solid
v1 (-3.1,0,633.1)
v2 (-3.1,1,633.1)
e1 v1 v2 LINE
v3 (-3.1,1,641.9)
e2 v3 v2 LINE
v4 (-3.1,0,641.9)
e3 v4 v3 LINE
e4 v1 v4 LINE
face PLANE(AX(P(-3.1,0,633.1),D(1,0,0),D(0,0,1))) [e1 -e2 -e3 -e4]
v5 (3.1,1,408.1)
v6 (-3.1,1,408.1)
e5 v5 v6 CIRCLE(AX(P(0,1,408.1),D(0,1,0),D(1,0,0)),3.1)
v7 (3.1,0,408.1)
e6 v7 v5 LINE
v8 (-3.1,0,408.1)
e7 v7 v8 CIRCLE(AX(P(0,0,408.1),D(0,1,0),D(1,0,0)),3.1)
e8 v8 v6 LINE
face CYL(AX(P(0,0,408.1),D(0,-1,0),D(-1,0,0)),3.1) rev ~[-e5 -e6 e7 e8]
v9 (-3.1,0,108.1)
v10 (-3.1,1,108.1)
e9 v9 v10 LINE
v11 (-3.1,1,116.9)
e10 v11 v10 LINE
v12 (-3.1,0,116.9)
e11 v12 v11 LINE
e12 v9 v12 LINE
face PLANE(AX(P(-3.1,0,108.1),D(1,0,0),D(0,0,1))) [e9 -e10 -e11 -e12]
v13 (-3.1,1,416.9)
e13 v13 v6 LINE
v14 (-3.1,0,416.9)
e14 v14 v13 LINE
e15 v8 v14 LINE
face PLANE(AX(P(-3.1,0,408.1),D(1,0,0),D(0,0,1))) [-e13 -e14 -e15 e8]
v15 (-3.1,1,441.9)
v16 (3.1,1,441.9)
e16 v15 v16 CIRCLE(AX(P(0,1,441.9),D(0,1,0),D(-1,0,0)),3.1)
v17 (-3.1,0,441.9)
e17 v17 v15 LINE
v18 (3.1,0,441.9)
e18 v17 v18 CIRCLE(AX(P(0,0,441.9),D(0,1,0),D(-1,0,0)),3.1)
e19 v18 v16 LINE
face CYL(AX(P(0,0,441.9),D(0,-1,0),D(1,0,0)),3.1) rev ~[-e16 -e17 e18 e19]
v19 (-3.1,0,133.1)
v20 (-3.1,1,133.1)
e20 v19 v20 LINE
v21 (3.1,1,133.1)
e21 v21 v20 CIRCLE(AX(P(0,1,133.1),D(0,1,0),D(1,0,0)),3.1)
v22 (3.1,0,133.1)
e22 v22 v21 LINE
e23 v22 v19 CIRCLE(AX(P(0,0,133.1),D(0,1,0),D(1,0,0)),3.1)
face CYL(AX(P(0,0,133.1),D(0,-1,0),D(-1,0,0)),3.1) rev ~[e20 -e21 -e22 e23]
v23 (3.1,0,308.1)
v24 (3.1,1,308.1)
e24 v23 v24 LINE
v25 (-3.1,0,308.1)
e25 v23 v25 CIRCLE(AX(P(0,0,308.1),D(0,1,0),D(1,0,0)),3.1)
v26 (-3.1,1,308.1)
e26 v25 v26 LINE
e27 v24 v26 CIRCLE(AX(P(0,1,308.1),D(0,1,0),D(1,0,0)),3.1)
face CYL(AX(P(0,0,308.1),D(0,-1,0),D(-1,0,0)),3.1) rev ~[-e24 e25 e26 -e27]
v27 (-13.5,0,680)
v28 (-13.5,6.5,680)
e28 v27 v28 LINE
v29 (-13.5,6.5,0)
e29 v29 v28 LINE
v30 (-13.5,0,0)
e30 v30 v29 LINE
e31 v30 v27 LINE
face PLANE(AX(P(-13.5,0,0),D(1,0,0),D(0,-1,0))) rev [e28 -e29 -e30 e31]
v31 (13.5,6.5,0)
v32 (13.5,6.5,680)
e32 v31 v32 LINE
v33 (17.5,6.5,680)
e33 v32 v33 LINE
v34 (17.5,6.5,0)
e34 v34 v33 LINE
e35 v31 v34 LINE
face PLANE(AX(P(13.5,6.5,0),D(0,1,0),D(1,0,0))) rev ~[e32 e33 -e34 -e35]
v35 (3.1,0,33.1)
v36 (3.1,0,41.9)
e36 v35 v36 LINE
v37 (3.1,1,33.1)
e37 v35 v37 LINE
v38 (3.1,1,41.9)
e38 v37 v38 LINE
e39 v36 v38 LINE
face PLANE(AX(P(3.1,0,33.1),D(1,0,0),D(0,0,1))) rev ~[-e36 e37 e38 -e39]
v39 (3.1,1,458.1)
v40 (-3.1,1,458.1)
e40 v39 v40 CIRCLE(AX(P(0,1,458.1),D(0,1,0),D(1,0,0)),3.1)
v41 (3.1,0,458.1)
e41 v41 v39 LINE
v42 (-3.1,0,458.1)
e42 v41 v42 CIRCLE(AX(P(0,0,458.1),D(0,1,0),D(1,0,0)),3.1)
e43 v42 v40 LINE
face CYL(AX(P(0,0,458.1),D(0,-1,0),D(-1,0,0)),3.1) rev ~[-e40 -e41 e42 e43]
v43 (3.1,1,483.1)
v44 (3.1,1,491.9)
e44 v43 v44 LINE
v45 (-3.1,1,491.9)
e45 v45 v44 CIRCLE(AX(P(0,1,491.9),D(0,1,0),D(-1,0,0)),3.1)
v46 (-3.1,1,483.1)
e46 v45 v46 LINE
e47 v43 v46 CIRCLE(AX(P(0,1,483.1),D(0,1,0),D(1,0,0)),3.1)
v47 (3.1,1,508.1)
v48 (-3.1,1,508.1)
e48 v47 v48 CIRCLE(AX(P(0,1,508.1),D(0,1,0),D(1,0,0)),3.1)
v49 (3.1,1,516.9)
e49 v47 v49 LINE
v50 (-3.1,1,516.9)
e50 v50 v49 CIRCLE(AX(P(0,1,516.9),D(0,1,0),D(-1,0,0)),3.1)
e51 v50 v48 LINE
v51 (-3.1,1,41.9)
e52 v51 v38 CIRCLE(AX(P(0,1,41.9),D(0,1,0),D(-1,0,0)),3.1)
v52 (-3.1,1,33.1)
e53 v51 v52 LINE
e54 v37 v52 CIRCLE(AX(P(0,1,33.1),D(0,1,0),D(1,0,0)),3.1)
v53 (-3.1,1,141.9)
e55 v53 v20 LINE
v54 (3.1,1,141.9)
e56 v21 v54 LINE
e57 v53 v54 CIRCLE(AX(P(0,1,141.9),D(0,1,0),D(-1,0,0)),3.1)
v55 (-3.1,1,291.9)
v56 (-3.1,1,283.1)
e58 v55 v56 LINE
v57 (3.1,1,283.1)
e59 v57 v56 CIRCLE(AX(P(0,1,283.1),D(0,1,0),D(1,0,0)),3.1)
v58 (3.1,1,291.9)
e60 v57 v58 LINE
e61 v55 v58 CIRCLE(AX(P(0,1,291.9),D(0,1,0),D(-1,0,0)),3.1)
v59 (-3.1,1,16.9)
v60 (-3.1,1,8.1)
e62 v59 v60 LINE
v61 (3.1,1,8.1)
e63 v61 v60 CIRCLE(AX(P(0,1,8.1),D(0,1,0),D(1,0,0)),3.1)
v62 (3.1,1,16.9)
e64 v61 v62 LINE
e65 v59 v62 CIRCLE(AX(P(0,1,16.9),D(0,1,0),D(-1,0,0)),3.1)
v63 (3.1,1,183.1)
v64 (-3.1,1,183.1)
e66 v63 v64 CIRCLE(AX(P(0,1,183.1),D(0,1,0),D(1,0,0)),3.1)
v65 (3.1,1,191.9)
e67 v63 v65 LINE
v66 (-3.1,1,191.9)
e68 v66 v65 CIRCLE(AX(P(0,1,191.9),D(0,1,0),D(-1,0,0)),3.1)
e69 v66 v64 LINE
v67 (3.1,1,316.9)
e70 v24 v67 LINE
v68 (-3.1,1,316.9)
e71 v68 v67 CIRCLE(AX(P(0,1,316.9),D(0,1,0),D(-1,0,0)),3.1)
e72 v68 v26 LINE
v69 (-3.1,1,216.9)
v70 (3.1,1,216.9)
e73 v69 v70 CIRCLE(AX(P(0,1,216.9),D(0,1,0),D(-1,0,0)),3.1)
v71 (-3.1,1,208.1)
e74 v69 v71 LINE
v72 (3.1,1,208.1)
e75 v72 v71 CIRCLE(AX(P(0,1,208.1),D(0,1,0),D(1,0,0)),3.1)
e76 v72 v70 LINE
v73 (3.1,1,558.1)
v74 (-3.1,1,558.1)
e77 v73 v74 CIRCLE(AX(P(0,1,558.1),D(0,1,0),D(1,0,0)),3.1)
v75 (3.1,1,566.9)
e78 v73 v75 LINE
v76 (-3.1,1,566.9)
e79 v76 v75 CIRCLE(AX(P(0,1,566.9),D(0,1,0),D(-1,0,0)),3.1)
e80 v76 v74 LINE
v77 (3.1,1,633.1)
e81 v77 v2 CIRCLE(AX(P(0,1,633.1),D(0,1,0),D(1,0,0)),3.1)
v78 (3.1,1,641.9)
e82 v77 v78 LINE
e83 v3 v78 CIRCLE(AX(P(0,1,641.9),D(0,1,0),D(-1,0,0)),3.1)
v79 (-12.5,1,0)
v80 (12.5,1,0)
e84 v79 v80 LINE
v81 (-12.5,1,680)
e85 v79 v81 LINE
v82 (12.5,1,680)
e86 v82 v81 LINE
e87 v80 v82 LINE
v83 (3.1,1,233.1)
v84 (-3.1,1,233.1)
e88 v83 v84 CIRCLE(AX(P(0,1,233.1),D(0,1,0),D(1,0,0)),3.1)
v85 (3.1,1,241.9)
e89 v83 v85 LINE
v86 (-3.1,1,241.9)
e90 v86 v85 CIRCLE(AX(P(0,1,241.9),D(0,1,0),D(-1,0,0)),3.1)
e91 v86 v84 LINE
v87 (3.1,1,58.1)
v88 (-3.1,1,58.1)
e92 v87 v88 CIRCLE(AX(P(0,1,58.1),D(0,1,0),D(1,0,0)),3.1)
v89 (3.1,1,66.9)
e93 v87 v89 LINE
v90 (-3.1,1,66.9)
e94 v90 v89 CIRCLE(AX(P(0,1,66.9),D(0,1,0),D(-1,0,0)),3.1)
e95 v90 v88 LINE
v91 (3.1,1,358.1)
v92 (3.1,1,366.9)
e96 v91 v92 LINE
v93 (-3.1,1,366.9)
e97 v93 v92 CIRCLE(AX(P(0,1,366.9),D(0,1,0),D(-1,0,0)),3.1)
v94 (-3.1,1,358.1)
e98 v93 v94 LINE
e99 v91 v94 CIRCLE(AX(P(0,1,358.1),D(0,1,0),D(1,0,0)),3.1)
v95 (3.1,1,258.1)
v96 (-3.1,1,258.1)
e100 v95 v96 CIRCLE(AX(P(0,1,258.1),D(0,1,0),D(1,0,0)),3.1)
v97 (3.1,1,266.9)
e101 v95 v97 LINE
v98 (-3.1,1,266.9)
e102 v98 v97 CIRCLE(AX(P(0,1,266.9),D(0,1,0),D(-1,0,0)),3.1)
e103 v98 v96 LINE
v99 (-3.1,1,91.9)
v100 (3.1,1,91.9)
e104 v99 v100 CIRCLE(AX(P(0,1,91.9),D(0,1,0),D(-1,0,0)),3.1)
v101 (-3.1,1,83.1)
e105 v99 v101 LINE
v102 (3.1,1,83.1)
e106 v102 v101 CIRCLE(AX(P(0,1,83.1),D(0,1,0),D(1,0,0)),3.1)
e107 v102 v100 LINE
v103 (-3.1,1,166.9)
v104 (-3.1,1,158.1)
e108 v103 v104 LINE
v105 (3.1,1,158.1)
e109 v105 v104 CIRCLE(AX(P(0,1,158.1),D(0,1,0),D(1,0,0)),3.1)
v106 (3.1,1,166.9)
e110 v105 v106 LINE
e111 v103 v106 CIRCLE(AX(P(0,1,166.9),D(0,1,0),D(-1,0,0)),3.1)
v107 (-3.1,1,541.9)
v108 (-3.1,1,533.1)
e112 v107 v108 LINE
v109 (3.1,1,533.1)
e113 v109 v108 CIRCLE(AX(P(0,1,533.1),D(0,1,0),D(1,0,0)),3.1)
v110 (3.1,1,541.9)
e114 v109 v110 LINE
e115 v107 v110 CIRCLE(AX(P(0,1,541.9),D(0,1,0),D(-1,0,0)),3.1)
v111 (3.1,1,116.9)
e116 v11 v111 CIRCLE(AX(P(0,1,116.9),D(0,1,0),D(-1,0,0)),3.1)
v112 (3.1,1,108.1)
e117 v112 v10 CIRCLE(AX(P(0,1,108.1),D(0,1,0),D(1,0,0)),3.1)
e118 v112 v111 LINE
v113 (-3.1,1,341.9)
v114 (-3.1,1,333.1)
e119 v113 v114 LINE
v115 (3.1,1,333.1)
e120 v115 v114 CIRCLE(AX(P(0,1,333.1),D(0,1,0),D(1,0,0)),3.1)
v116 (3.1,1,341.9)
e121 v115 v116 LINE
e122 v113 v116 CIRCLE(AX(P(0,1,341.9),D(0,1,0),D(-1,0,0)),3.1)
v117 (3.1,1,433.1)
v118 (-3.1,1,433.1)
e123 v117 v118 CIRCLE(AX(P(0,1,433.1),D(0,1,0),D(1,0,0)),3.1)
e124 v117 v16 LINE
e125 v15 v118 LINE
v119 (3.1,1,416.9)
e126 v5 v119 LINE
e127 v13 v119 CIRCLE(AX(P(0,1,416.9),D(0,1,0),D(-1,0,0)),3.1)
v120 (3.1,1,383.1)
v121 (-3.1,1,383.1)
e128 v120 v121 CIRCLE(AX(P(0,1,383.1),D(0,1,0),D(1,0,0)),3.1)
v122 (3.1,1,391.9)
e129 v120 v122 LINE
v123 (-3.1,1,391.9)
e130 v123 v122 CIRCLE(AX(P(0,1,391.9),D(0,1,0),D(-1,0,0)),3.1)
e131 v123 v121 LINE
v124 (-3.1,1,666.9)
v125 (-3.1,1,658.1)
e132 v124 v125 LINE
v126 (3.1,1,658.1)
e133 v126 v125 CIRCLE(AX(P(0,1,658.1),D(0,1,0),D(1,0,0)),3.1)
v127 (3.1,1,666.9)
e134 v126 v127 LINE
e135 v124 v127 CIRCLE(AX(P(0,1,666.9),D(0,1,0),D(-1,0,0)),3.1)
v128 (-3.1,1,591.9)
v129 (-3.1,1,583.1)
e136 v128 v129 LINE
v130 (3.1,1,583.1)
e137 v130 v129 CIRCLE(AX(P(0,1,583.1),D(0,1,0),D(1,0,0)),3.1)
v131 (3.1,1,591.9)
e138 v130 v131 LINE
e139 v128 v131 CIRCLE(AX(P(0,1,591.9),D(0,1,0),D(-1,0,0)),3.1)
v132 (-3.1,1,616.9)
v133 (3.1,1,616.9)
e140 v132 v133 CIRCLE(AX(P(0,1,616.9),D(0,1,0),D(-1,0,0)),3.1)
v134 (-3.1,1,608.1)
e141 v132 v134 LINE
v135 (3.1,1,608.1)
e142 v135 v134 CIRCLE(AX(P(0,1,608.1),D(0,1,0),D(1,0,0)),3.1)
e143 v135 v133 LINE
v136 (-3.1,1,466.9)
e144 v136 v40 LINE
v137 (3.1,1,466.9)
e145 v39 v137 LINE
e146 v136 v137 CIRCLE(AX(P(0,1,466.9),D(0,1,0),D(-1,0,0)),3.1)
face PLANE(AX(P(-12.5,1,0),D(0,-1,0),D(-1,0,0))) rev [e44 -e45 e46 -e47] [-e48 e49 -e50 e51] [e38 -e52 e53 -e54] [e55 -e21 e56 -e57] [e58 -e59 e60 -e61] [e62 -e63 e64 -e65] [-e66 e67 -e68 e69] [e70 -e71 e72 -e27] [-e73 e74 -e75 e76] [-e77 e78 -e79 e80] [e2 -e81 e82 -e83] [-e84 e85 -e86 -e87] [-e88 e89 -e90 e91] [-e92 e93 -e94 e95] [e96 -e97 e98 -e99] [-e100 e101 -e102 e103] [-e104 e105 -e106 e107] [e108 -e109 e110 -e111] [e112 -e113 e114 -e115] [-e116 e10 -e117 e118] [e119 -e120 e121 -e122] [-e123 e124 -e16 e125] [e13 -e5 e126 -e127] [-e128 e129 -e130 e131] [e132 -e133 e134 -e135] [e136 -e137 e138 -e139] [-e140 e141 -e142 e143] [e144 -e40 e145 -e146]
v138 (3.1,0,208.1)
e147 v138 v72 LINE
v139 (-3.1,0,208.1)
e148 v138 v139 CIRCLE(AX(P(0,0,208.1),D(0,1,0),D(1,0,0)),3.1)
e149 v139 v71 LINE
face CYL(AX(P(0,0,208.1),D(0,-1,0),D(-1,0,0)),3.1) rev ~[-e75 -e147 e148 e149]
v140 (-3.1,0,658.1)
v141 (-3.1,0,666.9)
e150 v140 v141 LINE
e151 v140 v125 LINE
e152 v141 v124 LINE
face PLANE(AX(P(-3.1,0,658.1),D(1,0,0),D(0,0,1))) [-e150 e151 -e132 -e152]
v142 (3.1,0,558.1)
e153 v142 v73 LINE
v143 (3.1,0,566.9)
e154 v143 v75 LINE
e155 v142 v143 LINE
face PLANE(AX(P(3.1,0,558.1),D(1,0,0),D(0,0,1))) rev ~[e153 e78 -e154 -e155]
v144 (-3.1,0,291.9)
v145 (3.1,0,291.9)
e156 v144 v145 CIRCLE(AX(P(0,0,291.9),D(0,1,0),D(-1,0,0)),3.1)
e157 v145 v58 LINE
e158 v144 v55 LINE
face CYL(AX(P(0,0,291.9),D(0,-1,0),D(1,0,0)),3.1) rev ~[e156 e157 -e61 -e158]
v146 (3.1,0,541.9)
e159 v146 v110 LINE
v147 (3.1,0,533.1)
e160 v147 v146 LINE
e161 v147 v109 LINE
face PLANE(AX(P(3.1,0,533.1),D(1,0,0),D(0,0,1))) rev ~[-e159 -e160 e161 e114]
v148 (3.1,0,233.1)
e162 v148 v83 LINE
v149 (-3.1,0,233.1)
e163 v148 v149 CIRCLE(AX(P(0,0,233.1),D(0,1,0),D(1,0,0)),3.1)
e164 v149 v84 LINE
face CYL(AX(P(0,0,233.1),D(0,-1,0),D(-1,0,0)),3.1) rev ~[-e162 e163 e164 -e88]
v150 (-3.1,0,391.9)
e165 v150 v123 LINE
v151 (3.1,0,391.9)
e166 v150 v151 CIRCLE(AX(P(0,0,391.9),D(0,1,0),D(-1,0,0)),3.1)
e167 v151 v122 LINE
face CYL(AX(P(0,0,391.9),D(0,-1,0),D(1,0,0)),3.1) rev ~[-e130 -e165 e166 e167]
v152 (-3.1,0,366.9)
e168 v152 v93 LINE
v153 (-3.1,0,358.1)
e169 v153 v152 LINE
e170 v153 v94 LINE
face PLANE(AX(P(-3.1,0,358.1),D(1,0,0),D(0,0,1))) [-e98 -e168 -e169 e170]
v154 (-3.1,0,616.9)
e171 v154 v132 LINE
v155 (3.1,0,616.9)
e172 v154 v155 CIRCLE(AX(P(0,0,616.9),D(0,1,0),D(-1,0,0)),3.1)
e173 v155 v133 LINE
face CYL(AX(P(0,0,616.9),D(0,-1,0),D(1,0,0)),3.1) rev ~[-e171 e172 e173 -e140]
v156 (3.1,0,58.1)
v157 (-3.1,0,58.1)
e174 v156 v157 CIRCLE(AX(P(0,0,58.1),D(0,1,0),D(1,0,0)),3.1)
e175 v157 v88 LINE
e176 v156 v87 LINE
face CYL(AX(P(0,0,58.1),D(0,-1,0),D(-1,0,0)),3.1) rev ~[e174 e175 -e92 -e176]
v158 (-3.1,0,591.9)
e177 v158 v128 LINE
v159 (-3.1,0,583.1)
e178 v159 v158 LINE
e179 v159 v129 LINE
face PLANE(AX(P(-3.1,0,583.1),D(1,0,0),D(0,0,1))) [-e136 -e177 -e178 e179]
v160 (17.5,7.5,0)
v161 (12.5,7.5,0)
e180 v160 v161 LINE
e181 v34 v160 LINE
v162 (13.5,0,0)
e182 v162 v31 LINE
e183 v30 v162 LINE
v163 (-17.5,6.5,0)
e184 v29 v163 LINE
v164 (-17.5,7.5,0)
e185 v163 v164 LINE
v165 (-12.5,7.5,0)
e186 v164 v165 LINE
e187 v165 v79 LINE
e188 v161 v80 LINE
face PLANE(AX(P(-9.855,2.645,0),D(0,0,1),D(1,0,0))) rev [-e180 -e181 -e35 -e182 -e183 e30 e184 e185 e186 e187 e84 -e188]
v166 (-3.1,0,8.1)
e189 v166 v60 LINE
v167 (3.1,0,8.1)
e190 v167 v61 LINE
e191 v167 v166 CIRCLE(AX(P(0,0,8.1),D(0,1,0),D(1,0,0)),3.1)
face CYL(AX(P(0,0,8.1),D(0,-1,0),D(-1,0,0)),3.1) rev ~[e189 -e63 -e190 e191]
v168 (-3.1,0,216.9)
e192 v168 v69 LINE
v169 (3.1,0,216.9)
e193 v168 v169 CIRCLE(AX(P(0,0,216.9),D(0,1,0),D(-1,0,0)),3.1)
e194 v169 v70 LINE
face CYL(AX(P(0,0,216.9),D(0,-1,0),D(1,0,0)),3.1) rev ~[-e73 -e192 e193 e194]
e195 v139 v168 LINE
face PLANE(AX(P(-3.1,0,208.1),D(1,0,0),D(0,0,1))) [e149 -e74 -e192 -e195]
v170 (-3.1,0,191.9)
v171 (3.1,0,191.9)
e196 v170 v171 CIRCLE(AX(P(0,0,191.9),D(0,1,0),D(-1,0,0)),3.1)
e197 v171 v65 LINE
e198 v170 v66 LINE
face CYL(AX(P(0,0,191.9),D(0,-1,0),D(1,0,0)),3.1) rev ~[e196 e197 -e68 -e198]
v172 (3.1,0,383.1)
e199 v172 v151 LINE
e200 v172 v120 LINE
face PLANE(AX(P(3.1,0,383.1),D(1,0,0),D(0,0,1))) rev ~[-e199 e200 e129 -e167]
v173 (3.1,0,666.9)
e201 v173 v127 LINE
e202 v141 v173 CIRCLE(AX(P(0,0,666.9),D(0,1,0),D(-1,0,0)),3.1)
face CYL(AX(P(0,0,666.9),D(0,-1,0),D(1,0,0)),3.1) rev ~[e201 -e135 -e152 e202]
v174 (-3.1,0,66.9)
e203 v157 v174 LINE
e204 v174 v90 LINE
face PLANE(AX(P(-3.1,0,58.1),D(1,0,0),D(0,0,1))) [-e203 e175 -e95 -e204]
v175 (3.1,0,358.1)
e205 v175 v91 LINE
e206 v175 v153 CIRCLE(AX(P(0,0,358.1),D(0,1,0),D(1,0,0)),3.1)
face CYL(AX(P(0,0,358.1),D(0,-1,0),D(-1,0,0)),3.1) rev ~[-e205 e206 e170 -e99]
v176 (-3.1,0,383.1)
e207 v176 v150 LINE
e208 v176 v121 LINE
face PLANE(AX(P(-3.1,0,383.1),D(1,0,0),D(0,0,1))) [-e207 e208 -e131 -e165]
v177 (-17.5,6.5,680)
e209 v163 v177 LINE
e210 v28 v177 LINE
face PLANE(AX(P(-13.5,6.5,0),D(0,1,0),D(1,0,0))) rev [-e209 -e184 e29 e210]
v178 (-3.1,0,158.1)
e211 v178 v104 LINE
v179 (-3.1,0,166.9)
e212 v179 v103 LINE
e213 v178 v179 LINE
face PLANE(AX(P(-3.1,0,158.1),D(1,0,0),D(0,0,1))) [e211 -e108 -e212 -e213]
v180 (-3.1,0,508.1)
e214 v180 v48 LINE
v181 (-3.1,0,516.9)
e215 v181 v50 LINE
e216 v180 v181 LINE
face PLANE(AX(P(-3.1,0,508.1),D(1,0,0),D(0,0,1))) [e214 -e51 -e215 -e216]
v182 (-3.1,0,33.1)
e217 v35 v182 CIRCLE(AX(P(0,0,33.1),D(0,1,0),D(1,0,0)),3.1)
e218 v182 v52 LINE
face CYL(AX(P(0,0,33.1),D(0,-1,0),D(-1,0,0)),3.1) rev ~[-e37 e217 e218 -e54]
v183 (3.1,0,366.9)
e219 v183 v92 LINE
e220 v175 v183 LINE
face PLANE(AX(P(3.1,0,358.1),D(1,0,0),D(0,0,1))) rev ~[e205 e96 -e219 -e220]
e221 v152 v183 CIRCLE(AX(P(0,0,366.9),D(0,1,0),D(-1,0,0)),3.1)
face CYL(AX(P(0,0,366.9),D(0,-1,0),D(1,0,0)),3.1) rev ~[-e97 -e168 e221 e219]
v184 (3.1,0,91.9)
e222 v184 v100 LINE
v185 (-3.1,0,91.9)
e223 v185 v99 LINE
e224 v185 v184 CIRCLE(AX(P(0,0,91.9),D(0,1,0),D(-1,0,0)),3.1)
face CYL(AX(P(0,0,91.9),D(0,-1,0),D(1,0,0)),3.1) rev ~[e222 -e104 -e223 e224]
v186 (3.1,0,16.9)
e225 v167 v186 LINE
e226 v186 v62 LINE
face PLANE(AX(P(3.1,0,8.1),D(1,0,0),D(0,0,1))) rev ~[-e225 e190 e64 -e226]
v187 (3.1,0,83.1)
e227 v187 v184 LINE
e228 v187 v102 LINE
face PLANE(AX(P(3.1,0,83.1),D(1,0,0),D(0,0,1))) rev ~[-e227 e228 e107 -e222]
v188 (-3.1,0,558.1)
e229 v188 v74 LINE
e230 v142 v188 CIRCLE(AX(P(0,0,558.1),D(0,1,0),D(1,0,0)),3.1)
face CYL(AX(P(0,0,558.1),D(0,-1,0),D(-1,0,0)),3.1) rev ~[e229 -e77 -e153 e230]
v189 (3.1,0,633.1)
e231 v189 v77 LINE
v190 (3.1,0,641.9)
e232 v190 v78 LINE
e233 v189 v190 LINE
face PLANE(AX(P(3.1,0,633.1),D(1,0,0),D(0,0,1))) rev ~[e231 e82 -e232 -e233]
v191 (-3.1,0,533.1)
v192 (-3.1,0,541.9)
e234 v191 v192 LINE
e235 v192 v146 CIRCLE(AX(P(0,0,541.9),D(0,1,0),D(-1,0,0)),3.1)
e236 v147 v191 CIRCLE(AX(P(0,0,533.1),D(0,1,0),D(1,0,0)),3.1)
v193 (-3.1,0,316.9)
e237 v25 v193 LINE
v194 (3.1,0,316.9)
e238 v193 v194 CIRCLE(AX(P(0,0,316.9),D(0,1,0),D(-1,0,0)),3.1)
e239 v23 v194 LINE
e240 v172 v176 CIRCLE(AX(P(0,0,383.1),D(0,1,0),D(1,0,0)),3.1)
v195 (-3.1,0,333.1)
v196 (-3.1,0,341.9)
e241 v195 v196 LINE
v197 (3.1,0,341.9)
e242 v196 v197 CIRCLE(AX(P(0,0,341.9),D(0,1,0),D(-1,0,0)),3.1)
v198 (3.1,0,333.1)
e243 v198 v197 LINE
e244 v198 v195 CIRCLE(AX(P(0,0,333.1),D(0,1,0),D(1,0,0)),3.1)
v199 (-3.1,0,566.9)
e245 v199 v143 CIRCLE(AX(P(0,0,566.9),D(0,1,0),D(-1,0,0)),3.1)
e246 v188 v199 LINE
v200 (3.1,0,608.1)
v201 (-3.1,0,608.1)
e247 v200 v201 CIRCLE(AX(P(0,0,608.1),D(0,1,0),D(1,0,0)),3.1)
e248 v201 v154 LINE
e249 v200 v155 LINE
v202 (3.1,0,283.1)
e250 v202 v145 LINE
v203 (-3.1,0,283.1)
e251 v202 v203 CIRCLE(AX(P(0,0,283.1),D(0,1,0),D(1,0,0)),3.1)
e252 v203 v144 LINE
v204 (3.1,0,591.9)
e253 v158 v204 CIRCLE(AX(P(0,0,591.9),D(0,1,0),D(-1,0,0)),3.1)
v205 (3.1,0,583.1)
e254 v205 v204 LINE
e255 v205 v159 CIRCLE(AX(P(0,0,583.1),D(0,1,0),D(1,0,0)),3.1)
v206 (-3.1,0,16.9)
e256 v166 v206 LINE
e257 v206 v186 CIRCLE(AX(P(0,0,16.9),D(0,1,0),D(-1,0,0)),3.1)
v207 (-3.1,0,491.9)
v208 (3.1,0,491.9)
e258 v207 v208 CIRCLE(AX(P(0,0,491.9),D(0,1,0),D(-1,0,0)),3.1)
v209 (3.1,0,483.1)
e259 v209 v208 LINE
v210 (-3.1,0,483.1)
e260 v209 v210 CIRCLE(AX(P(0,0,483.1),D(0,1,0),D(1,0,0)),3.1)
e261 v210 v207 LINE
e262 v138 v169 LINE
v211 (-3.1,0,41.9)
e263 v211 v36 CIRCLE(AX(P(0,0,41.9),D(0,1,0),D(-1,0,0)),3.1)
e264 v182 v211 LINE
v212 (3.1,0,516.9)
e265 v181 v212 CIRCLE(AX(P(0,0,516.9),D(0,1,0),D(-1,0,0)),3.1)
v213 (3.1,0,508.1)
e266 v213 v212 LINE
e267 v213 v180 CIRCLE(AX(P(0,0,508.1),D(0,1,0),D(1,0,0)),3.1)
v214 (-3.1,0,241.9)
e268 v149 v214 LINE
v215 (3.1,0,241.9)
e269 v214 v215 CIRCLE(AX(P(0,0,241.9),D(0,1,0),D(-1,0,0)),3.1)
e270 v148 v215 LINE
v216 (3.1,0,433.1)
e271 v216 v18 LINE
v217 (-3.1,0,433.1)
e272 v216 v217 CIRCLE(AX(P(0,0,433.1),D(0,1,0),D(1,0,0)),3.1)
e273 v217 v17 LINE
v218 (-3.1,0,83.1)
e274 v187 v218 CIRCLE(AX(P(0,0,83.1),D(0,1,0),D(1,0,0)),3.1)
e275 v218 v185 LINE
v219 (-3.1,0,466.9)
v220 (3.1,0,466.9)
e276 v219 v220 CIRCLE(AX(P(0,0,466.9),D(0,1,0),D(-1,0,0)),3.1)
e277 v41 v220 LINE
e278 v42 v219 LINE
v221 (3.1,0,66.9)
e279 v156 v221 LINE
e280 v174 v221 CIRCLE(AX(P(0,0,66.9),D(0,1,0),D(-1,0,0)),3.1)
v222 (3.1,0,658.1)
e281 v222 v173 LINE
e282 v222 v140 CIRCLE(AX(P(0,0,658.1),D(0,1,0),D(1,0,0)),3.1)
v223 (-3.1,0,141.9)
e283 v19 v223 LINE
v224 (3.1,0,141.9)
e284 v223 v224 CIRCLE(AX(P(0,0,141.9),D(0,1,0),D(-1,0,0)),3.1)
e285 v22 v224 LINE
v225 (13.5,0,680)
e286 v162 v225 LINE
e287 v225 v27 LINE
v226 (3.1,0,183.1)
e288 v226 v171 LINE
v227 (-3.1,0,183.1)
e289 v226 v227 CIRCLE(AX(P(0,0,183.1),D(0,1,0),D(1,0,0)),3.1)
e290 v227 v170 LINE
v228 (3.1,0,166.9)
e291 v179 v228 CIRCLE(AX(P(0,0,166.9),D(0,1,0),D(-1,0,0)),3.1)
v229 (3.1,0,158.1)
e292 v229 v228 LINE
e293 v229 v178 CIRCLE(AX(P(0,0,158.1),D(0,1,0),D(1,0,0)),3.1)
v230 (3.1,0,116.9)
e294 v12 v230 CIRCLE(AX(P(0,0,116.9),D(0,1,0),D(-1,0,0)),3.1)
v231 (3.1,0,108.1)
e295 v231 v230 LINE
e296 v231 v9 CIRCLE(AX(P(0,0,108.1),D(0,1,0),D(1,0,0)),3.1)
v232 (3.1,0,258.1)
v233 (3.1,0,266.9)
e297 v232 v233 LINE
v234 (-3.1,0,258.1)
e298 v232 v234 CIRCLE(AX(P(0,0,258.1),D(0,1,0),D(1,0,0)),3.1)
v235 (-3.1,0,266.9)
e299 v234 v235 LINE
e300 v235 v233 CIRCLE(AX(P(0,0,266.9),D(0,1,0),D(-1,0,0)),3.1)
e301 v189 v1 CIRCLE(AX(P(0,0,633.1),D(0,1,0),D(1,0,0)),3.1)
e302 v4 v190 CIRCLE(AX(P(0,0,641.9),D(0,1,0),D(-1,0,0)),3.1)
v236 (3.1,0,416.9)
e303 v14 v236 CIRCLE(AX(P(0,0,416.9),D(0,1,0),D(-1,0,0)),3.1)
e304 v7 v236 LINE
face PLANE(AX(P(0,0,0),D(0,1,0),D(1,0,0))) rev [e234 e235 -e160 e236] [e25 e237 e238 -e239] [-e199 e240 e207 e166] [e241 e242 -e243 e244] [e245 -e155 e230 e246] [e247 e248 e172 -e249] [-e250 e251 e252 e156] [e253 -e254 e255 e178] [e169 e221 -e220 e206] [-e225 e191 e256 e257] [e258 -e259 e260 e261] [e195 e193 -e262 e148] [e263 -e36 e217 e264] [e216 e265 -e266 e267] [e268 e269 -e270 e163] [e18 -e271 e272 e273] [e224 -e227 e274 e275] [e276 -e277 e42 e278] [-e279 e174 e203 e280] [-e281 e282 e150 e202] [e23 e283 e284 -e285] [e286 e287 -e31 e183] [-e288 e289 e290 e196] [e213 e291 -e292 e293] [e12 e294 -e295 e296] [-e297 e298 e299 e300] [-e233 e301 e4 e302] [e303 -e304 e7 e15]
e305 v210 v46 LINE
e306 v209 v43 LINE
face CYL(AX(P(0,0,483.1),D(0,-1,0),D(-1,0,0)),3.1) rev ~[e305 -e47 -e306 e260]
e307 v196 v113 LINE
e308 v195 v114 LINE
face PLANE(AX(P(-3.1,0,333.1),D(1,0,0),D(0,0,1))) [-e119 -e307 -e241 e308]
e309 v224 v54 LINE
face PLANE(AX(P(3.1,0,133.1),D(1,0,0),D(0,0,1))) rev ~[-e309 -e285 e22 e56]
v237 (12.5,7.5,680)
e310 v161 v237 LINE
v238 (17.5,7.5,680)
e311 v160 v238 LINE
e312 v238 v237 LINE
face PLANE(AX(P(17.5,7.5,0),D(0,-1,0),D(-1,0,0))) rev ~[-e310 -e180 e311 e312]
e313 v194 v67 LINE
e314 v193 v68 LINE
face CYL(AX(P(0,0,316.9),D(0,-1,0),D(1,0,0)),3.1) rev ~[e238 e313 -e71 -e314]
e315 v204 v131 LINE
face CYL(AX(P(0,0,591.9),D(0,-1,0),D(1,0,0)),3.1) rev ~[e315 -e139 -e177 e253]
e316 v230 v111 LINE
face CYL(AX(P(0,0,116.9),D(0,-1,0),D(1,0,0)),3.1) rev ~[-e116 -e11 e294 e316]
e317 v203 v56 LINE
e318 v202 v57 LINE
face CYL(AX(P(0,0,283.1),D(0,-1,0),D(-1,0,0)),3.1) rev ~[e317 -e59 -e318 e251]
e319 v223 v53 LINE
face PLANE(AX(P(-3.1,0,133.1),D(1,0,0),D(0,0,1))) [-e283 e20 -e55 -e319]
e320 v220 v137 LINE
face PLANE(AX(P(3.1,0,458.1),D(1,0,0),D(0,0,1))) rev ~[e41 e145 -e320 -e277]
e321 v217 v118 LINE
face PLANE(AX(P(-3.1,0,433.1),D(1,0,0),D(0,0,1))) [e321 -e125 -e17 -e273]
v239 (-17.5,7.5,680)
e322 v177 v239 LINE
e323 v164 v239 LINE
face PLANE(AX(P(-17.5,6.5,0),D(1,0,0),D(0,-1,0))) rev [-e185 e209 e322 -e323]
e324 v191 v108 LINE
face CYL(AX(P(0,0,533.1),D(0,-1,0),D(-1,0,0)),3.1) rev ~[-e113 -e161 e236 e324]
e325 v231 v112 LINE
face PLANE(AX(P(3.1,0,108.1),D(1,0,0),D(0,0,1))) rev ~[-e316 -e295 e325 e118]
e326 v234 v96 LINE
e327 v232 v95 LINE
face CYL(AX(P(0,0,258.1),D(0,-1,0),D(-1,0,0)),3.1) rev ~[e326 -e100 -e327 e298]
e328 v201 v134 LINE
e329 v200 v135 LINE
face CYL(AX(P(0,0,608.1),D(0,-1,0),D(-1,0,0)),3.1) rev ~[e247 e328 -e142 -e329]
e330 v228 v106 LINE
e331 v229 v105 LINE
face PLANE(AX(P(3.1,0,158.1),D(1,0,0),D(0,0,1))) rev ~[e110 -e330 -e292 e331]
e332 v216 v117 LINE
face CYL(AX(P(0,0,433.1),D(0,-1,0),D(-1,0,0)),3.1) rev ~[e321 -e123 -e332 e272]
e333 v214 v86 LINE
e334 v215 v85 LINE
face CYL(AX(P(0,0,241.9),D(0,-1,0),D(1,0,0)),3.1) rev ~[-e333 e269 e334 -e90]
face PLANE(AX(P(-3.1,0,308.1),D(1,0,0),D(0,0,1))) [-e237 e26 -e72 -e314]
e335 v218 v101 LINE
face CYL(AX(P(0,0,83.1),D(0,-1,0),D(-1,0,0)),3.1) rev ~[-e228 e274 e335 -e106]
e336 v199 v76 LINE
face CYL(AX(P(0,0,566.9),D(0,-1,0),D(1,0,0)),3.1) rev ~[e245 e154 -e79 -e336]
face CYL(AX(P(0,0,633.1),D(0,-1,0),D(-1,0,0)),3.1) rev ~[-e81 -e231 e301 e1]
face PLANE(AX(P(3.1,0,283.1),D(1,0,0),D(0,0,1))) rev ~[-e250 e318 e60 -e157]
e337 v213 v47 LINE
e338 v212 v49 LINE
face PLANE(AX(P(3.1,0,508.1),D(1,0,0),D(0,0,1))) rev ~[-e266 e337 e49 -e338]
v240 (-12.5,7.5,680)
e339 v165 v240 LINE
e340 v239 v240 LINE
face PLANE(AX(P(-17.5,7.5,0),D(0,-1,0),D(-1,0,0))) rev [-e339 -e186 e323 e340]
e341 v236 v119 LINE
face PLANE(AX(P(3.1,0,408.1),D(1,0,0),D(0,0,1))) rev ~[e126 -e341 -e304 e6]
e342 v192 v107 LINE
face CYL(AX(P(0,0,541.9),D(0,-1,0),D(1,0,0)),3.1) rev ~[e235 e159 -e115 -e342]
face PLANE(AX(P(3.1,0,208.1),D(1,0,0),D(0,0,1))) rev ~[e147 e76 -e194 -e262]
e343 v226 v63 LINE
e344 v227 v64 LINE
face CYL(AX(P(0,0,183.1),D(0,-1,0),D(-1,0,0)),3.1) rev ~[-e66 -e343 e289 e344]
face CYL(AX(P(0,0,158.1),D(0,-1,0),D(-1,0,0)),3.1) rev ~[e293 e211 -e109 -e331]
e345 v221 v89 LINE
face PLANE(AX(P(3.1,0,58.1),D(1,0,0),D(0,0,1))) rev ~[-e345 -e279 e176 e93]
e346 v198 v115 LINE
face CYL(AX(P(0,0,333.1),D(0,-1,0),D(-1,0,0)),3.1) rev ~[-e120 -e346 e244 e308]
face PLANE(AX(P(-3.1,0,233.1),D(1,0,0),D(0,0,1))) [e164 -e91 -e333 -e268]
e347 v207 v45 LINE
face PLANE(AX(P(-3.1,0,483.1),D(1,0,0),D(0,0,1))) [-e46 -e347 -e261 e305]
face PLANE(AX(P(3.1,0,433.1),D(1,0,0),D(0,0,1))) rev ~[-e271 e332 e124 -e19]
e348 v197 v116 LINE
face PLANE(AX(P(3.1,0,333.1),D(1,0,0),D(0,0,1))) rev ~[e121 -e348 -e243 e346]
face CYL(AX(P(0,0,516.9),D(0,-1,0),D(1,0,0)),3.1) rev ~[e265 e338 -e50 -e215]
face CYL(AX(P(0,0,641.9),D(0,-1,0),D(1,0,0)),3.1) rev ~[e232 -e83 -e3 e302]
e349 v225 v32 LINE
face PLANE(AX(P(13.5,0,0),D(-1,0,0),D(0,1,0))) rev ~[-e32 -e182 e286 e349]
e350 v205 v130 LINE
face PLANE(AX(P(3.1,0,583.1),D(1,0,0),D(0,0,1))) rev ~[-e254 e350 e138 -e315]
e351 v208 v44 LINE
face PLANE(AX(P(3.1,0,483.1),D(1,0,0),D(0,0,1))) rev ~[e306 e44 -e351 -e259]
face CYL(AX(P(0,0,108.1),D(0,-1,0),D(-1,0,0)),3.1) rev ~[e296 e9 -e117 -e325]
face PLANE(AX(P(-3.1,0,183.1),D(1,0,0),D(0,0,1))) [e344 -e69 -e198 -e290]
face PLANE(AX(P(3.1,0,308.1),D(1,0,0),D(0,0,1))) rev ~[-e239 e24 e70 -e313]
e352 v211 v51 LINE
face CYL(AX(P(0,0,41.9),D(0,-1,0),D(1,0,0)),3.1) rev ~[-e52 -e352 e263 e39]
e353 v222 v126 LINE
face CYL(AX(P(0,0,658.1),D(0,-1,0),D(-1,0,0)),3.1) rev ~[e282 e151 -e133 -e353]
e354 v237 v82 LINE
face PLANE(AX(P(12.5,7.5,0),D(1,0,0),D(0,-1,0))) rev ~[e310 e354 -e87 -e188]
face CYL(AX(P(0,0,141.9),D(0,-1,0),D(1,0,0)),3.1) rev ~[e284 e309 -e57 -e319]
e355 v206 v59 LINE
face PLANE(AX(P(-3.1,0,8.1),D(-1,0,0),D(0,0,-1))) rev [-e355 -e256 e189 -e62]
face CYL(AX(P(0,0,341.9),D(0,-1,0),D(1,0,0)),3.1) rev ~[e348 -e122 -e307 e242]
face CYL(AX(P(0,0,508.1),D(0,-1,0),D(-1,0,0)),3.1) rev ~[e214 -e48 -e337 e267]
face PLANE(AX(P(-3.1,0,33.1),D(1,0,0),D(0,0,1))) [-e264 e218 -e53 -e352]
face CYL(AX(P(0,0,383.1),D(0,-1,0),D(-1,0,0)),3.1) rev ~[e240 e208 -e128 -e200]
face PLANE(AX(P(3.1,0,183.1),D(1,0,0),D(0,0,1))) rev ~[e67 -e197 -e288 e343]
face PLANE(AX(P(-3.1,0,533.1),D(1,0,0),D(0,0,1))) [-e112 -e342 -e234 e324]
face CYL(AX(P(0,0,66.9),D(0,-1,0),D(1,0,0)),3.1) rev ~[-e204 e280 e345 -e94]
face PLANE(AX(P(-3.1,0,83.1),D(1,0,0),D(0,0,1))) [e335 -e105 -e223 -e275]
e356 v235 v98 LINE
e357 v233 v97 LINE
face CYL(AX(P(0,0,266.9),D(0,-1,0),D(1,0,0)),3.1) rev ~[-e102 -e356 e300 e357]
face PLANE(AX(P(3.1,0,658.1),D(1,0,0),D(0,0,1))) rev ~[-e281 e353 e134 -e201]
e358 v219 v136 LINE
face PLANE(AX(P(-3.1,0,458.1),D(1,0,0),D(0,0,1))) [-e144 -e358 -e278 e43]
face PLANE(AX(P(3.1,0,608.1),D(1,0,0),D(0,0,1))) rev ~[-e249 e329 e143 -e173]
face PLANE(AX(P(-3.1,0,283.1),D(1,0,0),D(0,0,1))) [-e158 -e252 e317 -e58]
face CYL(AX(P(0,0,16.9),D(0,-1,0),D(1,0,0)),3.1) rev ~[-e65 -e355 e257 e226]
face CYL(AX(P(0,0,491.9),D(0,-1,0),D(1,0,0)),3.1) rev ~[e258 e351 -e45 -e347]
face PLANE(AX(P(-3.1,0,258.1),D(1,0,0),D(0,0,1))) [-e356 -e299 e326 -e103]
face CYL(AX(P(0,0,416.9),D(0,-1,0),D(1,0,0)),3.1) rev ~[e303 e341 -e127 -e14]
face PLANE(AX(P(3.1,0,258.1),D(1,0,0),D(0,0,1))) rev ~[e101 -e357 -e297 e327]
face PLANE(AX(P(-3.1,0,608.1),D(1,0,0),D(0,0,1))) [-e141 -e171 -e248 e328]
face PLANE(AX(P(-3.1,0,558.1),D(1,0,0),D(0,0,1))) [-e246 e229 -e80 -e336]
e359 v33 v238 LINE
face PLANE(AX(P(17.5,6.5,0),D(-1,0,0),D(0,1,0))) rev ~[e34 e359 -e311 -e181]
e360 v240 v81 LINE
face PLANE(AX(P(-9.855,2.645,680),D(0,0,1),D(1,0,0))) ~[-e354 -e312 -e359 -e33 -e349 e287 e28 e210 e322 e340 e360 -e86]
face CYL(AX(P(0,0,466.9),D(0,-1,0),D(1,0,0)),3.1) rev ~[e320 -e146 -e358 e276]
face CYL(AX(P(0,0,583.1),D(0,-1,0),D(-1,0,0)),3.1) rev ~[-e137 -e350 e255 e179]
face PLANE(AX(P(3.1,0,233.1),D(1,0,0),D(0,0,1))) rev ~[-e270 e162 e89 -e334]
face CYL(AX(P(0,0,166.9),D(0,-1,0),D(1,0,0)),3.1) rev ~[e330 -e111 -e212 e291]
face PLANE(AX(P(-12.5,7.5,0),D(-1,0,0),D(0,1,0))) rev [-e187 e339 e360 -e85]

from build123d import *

# Parameters (mm, degrees)
BOSS_EXTRUDE1_DEPTH   = 680
CUT_EXTRUDE1_DEPTH    = 681.266491899
LPATTERN1_COUNT       = 27
LPATTERN1_PITCH       = 25
MIRROR2_COPY_1_DEPTH  = 681.266491899
MIRROR2_COPY_2_DEPTH  = 681.266491899
MIRROR2_COPY_3_DEPTH  = 681.266491899
MIRROR2_COPY_4_DEPTH  = 681.266491899
MIRROR2_COPY_5_DEPTH  = 681.266491899
MIRROR2_COPY_6_DEPTH  = 681.266491899
MIRROR2_COPY_7_DEPTH  = 681.266491899
MIRROR2_COPY_8_DEPTH  = 681.266491899
MIRROR2_COPY_9_DEPTH  = 681.266491899
MIRROR2_COPY_10_DEPTH = 681.266491899
MIRROR2_COPY_11_DEPTH = 681.266491899
MIRROR2_COPY_12_DEPTH = 681.266491899
MIRROR2_COPY_13_DEPTH = 681.266491899
MIRROR2_COPY_14_DEPTH = 681.266491899
MIRROR2_COPY_15_DEPTH = 681.266491899
MIRROR2_COPY_16_DEPTH = 681.266491899
MIRROR2_COPY_17_DEPTH = 681.266491899
MIRROR2_COPY_18_DEPTH = 681.266491899
MIRROR2_COPY_19_DEPTH = 681.266491899
MIRROR2_COPY_20_DEPTH = 681.266491899
MIRROR2_COPY_21_DEPTH = 681.266491899
MIRROR2_COPY_22_DEPTH = 681.266491899
MIRROR2_COPY_23_DEPTH = 681.266491899
MIRROR2_COPY_24_DEPTH = 681.266491899
MIRROR2_COPY_25_DEPTH = 681.266491899
MIRROR2_COPY_26_DEPTH = 681.266491899


with BuildPart() as part:
    # Sketch1 → Boss-Extrude1 (new body)
    with BuildSketch(Plane.XY):
        Polygon((0, 0), (13.5, 0), (13.5, 6.5), (17.5, 6.5), (17.5, 7.5), (12.5, 7.5), (12.5, 1), (0, 1), align=None)
    boss_extrude1 = extrude(amount=BOSS_EXTRUDE1_DEPTH)

    # Sketch2 → Cut-Extrude1 (cut, through all)
    with BuildSketch(Plane(origin=(0, 0, 0), x_dir=(1, 0, 0), z_dir=(0, 1, 0))):
        with BuildLine():
            Line((3.1, -8.1), (3.1, -16.9))
            ThreePointArc((3.1, -16.9), (0, -20), (-3.1, -16.9))
            Line((-3.1, -16.9), (-3.1, -8.1))
            ThreePointArc((-3.1, -8.1), (0, -5), (3.1, -8.1))
        make_face()
    cut_extrude1 = extrude(amount=CUT_EXTRUDE1_DEPTH, mode=Mode.SUBTRACT)

    # LPattern1: Cut-Extrude1 ×27
    with Locations(*[(0, 0, i * LPATTERN1_PITCH) for i in range(1, LPATTERN1_COUNT)]):
        add(cut_extrude1, mode=Mode.SUBTRACT)

    # Mirror2: Boss-Extrude1, Cut-Extrude1 across plane
    add(boss_extrude1.mirror(Plane(origin=(0, 0, 0), x_dir=(0, 0, 1), z_dir=(1, 0, 0))))
    add(cut_extrude1.mirror(Plane(origin=(0, 0, 0), x_dir=(0, 0, 1), z_dir=(1, 0, 0))), mode=Mode.SUBTRACT)

    # Mirror2 copy 1 sketch → Mirror2 copy 1 (cut, through all)
    with BuildSketch(Plane(origin=(0, 0, 25), x_dir=(-1, 0, 0), z_dir=(0, 1, 0))):
        with BuildLine():
            Line((3.1, 8.1), (3.1, 16.9))
            ThreePointArc((3.1, 16.9), (0, 20), (-3.1, 16.9))
            Line((-3.1, 16.9), (-3.1, 8.1))
            ThreePointArc((-3.1, 8.1), (0, 5), (3.1, 8.1))
        make_face()
    extrude(amount=MIRROR2_COPY_1_DEPTH, mode=Mode.SUBTRACT)

    # Mirror2 copy 2 sketch → Mirror2 copy 2 (cut, through all)
    with BuildSketch(Plane(origin=(0, 0, 50), x_dir=(-1, 0, 0), z_dir=(0, 1, 0))):
        with BuildLine():
            Line((3.1, 8.1), (3.1, 16.9))
            ThreePointArc((3.1, 16.9), (0, 20), (-3.1, 16.9))
            Line((-3.1, 16.9), (-3.1, 8.1))
            ThreePointArc((-3.1, 8.1), (0, 5), (3.1, 8.1))
        make_face()
    extrude(amount=MIRROR2_COPY_2_DEPTH, mode=Mode.SUBTRACT)

    # Mirror2 copy 3 sketch → Mirror2 copy 3 (cut, through all)
    with BuildSketch(Plane(origin=(0, 0, 75), x_dir=(-1, 0, 0), z_dir=(0, 1, 0))):
        with BuildLine():
            Line((3.1, 8.1), (3.1, 16.9))
            ThreePointArc((3.1, 16.9), (0, 20), (-3.1, 16.9))
            Line((-3.1, 16.9), (-3.1, 8.1))
            ThreePointArc((-3.1, 8.1), (0, 5), (3.1, 8.1))
        make_face()
    extrude(amount=MIRROR2_COPY_3_DEPTH, mode=Mode.SUBTRACT)

    # Mirror2 copy 4 sketch → Mirror2 copy 4 (cut, through all)
    with BuildSketch(Plane(origin=(0, 0, 100), x_dir=(-1, 0, 0), z_dir=(0, 1, 0))):
        with BuildLine():
            Line((3.1, 8.1), (3.1, 16.9))
            ThreePointArc((3.1, 16.9), (0, 20), (-3.1, 16.9))
            Line((-3.1, 16.9), (-3.1, 8.1))
            ThreePointArc((-3.1, 8.1), (0, 5), (3.1, 8.1))
        make_face()
    extrude(amount=MIRROR2_COPY_4_DEPTH, mode=Mode.SUBTRACT)

    # Mirror2 copy 5 sketch → Mirror2 copy 5 (cut, through all)
    with BuildSketch(Plane(origin=(0, 0, 125), x_dir=(-1, 0, 0), z_dir=(0, 1, 0))):
        with BuildLine():
            Line((3.1, 8.1), (3.1, 16.9))
            ThreePointArc((3.1, 16.9), (0, 20), (-3.1, 16.9))
            Line((-3.1, 16.9), (-3.1, 8.1))
            ThreePointArc((-3.1, 8.1), (0, 5), (3.1, 8.1))
        make_face()
    extrude(amount=MIRROR2_COPY_5_DEPTH, mode=Mode.SUBTRACT)

    # Mirror2 copy 6 sketch → Mirror2 copy 6 (cut, through all)
    with BuildSketch(Plane(origin=(0, 0, 150), x_dir=(-1, 0, 0), z_dir=(0, 1, 0))):
        with BuildLine():
            Line((3.1, 8.1), (3.1, 16.9))
            ThreePointArc((3.1, 16.9), (0, 20), (-3.1, 16.9))
            Line((-3.1, 16.9), (-3.1, 8.1))
            ThreePointArc((-3.1, 8.1), (0, 5), (3.1, 8.1))
        make_face()
    extrude(amount=MIRROR2_COPY_6_DEPTH, mode=Mode.SUBTRACT)

    # Mirror2 copy 7 sketch → Mirror2 copy 7 (cut, through all)
    with BuildSketch(Plane(origin=(0, 0, 175), x_dir=(-1, 0, 0), z_dir=(0, 1, 0))):
        with BuildLine():
            Line((3.1, 8.1), (3.1, 16.9))
            ThreePointArc((3.1, 16.9), (0, 20), (-3.1, 16.9))
            Line((-3.1, 16.9), (-3.1, 8.1))
            ThreePointArc((-3.1, 8.1), (0, 5), (3.1, 8.1))
        make_face()
    extrude(amount=MIRROR2_COPY_7_DEPTH, mode=Mode.SUBTRACT)

    # Mirror2 copy 8 sketch → Mirror2 copy 8 (cut, through all)
    with BuildSketch(Plane(origin=(0, 0, 200), x_dir=(-1, 0, 0), z_dir=(0, 1, 0))):
        with BuildLine():
            Line((3.1, 8.1), (3.1, 16.9))
            ThreePointArc((3.1, 16.9), (0, 20), (-3.1, 16.9))
            Line((-3.1, 16.9), (-3.1, 8.1))
            ThreePointArc((-3.1, 8.1), (0, 5), (3.1, 8.1))
        make_face()
    extrude(amount=MIRROR2_COPY_8_DEPTH, mode=Mode.SUBTRACT)

    # Mirror2 copy 9 sketch → Mirror2 copy 9 (cut, through all)
    with BuildSketch(Plane(origin=(0, 0, 225), x_dir=(-1, 0, 0), z_dir=(0, 1, 0))):
        with BuildLine():
            Line((3.1, 8.1), (3.1, 16.9))
            ThreePointArc((3.1, 16.9), (0, 20), (-3.1, 16.9))
            Line((-3.1, 16.9), (-3.1, 8.1))
            ThreePointArc((-3.1, 8.1), (0, 5), (3.1, 8.1))
        make_face()
    extrude(amount=MIRROR2_COPY_9_DEPTH, mode=Mode.SUBTRACT)

    # Mirror2 copy 10 sketch → Mirror2 copy 10 (cut, through all)
    with BuildSketch(Plane(origin=(0, 0, 250), x_dir=(-1, 0, 0), z_dir=(0, 1, 0))):
        with BuildLine():
            Line((3.1, 8.1), (3.1, 16.9))
            ThreePointArc((3.1, 16.9), (0, 20), (-3.1, 16.9))
            Line((-3.1, 16.9), (-3.1, 8.1))
            ThreePointArc((-3.1, 8.1), (0, 5), (3.1, 8.1))
        make_face()
    extrude(amount=MIRROR2_COPY_10_DEPTH, mode=Mode.SUBTRACT)

    # Mirror2 copy 11 sketch → Mirror2 copy 11 (cut, through all)
    with BuildSketch(Plane(origin=(0, 0, 275), x_dir=(-1, 0, 0), z_dir=(0, 1, 0))):
        with BuildLine():
            Line((3.1, 8.1), (3.1, 16.9))
            ThreePointArc((3.1, 16.9), (0, 20), (-3.1, 16.9))
            Line((-3.1, 16.9), (-3.1, 8.1))
            ThreePointArc((-3.1, 8.1), (0, 5), (3.1, 8.1))
        make_face()
    extrude(amount=MIRROR2_COPY_11_DEPTH, mode=Mode.SUBTRACT)

    # Mirror2 copy 12 sketch → Mirror2 copy 12 (cut, through all)
    with BuildSketch(Plane(origin=(0, 0, 300), x_dir=(-1, 0, 0), z_dir=(0, 1, 0))):
        with BuildLine():
            Line((3.1, 8.1), (3.1, 16.9))
            ThreePointArc((3.1, 16.9), (0, 20), (-3.1, 16.9))
            Line((-3.1, 16.9), (-3.1, 8.1))
            ThreePointArc((-3.1, 8.1), (0, 5), (3.1, 8.1))
        make_face()
    extrude(amount=MIRROR2_COPY_12_DEPTH, mode=Mode.SUBTRACT)

    # Mirror2 copy 13 sketch → Mirror2 copy 13 (cut, through all)
    with BuildSketch(Plane(origin=(0, 0, 325), x_dir=(-1, 0, 0), z_dir=(0, 1, 0))):
        with BuildLine():
            Line((3.1, 8.1), (3.1, 16.9))
            ThreePointArc((3.1, 16.9), (0, 20), (-3.1, 16.9))
            Line((-3.1, 16.9), (-3.1, 8.1))
            ThreePointArc((-3.1, 8.1), (0, 5), (3.1, 8.1))
        make_face()
    extrude(amount=MIRROR2_COPY_13_DEPTH, mode=Mode.SUBTRACT)

    # Mirror2 copy 14 sketch → Mirror2 copy 14 (cut, through all)
    with BuildSketch(Plane(origin=(0, 0, 350), x_dir=(-1, 0, 0), z_dir=(0, 1, 0))):
        with BuildLine():
            Line((3.1, 8.1), (3.1, 16.9))
            ThreePointArc((3.1, 16.9), (0, 20), (-3.1, 16.9))
            Line((-3.1, 16.9), (-3.1, 8.1))
            ThreePointArc((-3.1, 8.1), (0, 5), (3.1, 8.1))
        make_face()
    extrude(amount=MIRROR2_COPY_14_DEPTH, mode=Mode.SUBTRACT)

    # Mirror2 copy 15 sketch → Mirror2 copy 15 (cut, through all)
    with BuildSketch(Plane(origin=(0, 0, 375), x_dir=(-1, 0, 0), z_dir=(0, 1, 0))):
        with BuildLine():
            Line((3.1, 8.1), (3.1, 16.9))
            ThreePointArc((3.1, 16.9), (0, 20), (-3.1, 16.9))
            Line((-3.1, 16.9), (-3.1, 8.1))
            ThreePointArc((-3.1, 8.1), (0, 5), (3.1, 8.1))
        make_face()
    extrude(amount=MIRROR2_COPY_15_DEPTH, mode=Mode.SUBTRACT)

    # Mirror2 copy 16 sketch → Mirror2 copy 16 (cut, through all)
    with BuildSketch(Plane(origin=(0, 0, 400), x_dir=(-1, 0, 0), z_dir=(0, 1, 0))):
        with BuildLine():
            Line((3.1, 8.1), (3.1, 16.9))
            ThreePointArc((3.1, 16.9), (0, 20), (-3.1, 16.9))
            Line((-3.1, 16.9), (-3.1, 8.1))
            ThreePointArc((-3.1, 8.1), (0, 5), (3.1, 8.1))
        make_face()
    extrude(amount=MIRROR2_COPY_16_DEPTH, mode=Mode.SUBTRACT)

    # Mirror2 copy 17 sketch → Mirror2 copy 17 (cut, through all)
    with BuildSketch(Plane(origin=(0, 0, 425), x_dir=(-1, 0, 0), z_dir=(0, 1, 0))):
        with BuildLine():
            Line((3.1, 8.1), (3.1, 16.9))
            ThreePointArc((3.1, 16.9), (0, 20), (-3.1, 16.9))
            Line((-3.1, 16.9), (-3.1, 8.1))
            ThreePointArc((-3.1, 8.1), (0, 5), (3.1, 8.1))
        make_face()
    extrude(amount=MIRROR2_COPY_17_DEPTH, mode=Mode.SUBTRACT)

    # Mirror2 copy 18 sketch → Mirror2 copy 18 (cut, through all)
    with BuildSketch(Plane(origin=(0, 0, 450), x_dir=(-1, 0, 0), z_dir=(0, 1, 0))):
        with BuildLine():
            Line((3.1, 8.1), (3.1, 16.9))
            ThreePointArc((3.1, 16.9), (0, 20), (-3.1, 16.9))
            Line((-3.1, 16.9), (-3.1, 8.1))
            ThreePointArc((-3.1, 8.1), (0, 5), (3.1, 8.1))
        make_face()
    extrude(amount=MIRROR2_COPY_18_DEPTH, mode=Mode.SUBTRACT)

    # Mirror2 copy 19 sketch → Mirror2 copy 19 (cut, through all)
    with BuildSketch(Plane(origin=(0, 0, 475), x_dir=(-1, 0, 0), z_dir=(0, 1, 0))):
        with BuildLine():
            Line((3.1, 8.1), (3.1, 16.9))
            ThreePointArc((3.1, 16.9), (0, 20), (-3.1, 16.9))
            Line((-3.1, 16.9), (-3.1, 8.1))
            ThreePointArc((-3.1, 8.1), (0, 5), (3.1, 8.1))
        make_face()
    extrude(amount=MIRROR2_COPY_19_DEPTH, mode=Mode.SUBTRACT)

    # Mirror2 copy 20 sketch → Mirror2 copy 20 (cut, through all)
    with BuildSketch(Plane(origin=(0, 0, 500), x_dir=(-1, 0, 0), z_dir=(0, 1, 0))):
        with BuildLine():
            Line((3.1, 8.1), (3.1, 16.9))
            ThreePointArc((3.1, 16.9), (0, 20), (-3.1, 16.9))
            Line((-3.1, 16.9), (-3.1, 8.1))
            ThreePointArc((-3.1, 8.1), (0, 5), (3.1, 8.1))
        make_face()
    extrude(amount=MIRROR2_COPY_20_DEPTH, mode=Mode.SUBTRACT)

    # Mirror2 copy 21 sketch → Mirror2 copy 21 (cut, through all)
    with BuildSketch(Plane(origin=(0, 0, 525), x_dir=(-1, 0, 0), z_dir=(0, 1, 0))):
        with BuildLine():
            Line((3.1, 8.1), (3.1, 16.9))
            ThreePointArc((3.1, 16.9), (0, 20), (-3.1, 16.9))
            Line((-3.1, 16.9), (-3.1, 8.1))
            ThreePointArc((-3.1, 8.1), (0, 5), (3.1, 8.1))
        make_face()
    extrude(amount=MIRROR2_COPY_21_DEPTH, mode=Mode.SUBTRACT)

    # Mirror2 copy 22 sketch → Mirror2 copy 22 (cut, through all)
    with BuildSketch(Plane(origin=(0, 0, 550), x_dir=(-1, 0, 0), z_dir=(0, 1, 0))):
        with BuildLine():
            Line((3.1, 8.1), (3.1, 16.9))
            ThreePointArc((3.1, 16.9), (0, 20), (-3.1, 16.9))
            Line((-3.1, 16.9), (-3.1, 8.1))
            ThreePointArc((-3.1, 8.1), (0, 5), (3.1, 8.1))
        make_face()
    extrude(amount=MIRROR2_COPY_22_DEPTH, mode=Mode.SUBTRACT)

    # Mirror2 copy 23 sketch → Mirror2 copy 23 (cut, through all)
    with BuildSketch(Plane(origin=(0, 0, 575), x_dir=(-1, 0, 0), z_dir=(0, 1, 0))):
        with BuildLine():
            Line((3.1, 8.1), (3.1, 16.9))
            ThreePointArc((3.1, 16.9), (0, 20), (-3.1, 16.9))
            Line((-3.1, 16.9), (-3.1, 8.1))
            ThreePointArc((-3.1, 8.1), (0, 5), (3.1, 8.1))
        make_face()
    extrude(amount=MIRROR2_COPY_23_DEPTH, mode=Mode.SUBTRACT)

    # Mirror2 copy 24 sketch → Mirror2 copy 24 (cut, through all)
    with BuildSketch(Plane(origin=(0, 0, 600), x_dir=(-1, 0, 0), z_dir=(0, 1, 0))):
        with BuildLine():
            Line((3.1, 8.1), (3.1, 16.9))
            ThreePointArc((3.1, 16.9), (0, 20), (-3.1, 16.9))
            Line((-3.1, 16.9), (-3.1, 8.1))
            ThreePointArc((-3.1, 8.1), (0, 5), (3.1, 8.1))
        make_face()
    extrude(amount=MIRROR2_COPY_24_DEPTH, mode=Mode.SUBTRACT)

    # Mirror2 copy 25 sketch → Mirror2 copy 25 (cut, through all)
    with BuildSketch(Plane(origin=(0, 0, 625), x_dir=(-1, 0, 0), z_dir=(0, 1, 0))):
        with BuildLine():
            Line((3.1, 8.1), (3.1, 16.9))
            ThreePointArc((3.1, 16.9), (0, 20), (-3.1, 16.9))
            Line((-3.1, 16.9), (-3.1, 8.1))
            ThreePointArc((-3.1, 8.1), (0, 5), (3.1, 8.1))
        make_face()
    extrude(amount=MIRROR2_COPY_25_DEPTH, mode=Mode.SUBTRACT)

    # Mirror2 copy 26 sketch → Mirror2 copy 26 (cut, through all)
    with BuildSketch(Plane(origin=(0, 0, 650), x_dir=(-1, 0, 0), z_dir=(0, 1, 0))):
        with BuildLine():
            Line((3.1, 8.1), (3.1, 16.9))
            ThreePointArc((3.1, 16.9), (0, 20), (-3.1, 16.9))
            Line((-3.1, 16.9), (-3.1, 8.1))
            ThreePointArc((-3.1, 8.1), (0, 5), (3.1, 8.1))
        make_face()
    extrude(amount=MIRROR2_COPY_26_DEPTH, mode=Mode.SUBTRACT)


solid = part.part
